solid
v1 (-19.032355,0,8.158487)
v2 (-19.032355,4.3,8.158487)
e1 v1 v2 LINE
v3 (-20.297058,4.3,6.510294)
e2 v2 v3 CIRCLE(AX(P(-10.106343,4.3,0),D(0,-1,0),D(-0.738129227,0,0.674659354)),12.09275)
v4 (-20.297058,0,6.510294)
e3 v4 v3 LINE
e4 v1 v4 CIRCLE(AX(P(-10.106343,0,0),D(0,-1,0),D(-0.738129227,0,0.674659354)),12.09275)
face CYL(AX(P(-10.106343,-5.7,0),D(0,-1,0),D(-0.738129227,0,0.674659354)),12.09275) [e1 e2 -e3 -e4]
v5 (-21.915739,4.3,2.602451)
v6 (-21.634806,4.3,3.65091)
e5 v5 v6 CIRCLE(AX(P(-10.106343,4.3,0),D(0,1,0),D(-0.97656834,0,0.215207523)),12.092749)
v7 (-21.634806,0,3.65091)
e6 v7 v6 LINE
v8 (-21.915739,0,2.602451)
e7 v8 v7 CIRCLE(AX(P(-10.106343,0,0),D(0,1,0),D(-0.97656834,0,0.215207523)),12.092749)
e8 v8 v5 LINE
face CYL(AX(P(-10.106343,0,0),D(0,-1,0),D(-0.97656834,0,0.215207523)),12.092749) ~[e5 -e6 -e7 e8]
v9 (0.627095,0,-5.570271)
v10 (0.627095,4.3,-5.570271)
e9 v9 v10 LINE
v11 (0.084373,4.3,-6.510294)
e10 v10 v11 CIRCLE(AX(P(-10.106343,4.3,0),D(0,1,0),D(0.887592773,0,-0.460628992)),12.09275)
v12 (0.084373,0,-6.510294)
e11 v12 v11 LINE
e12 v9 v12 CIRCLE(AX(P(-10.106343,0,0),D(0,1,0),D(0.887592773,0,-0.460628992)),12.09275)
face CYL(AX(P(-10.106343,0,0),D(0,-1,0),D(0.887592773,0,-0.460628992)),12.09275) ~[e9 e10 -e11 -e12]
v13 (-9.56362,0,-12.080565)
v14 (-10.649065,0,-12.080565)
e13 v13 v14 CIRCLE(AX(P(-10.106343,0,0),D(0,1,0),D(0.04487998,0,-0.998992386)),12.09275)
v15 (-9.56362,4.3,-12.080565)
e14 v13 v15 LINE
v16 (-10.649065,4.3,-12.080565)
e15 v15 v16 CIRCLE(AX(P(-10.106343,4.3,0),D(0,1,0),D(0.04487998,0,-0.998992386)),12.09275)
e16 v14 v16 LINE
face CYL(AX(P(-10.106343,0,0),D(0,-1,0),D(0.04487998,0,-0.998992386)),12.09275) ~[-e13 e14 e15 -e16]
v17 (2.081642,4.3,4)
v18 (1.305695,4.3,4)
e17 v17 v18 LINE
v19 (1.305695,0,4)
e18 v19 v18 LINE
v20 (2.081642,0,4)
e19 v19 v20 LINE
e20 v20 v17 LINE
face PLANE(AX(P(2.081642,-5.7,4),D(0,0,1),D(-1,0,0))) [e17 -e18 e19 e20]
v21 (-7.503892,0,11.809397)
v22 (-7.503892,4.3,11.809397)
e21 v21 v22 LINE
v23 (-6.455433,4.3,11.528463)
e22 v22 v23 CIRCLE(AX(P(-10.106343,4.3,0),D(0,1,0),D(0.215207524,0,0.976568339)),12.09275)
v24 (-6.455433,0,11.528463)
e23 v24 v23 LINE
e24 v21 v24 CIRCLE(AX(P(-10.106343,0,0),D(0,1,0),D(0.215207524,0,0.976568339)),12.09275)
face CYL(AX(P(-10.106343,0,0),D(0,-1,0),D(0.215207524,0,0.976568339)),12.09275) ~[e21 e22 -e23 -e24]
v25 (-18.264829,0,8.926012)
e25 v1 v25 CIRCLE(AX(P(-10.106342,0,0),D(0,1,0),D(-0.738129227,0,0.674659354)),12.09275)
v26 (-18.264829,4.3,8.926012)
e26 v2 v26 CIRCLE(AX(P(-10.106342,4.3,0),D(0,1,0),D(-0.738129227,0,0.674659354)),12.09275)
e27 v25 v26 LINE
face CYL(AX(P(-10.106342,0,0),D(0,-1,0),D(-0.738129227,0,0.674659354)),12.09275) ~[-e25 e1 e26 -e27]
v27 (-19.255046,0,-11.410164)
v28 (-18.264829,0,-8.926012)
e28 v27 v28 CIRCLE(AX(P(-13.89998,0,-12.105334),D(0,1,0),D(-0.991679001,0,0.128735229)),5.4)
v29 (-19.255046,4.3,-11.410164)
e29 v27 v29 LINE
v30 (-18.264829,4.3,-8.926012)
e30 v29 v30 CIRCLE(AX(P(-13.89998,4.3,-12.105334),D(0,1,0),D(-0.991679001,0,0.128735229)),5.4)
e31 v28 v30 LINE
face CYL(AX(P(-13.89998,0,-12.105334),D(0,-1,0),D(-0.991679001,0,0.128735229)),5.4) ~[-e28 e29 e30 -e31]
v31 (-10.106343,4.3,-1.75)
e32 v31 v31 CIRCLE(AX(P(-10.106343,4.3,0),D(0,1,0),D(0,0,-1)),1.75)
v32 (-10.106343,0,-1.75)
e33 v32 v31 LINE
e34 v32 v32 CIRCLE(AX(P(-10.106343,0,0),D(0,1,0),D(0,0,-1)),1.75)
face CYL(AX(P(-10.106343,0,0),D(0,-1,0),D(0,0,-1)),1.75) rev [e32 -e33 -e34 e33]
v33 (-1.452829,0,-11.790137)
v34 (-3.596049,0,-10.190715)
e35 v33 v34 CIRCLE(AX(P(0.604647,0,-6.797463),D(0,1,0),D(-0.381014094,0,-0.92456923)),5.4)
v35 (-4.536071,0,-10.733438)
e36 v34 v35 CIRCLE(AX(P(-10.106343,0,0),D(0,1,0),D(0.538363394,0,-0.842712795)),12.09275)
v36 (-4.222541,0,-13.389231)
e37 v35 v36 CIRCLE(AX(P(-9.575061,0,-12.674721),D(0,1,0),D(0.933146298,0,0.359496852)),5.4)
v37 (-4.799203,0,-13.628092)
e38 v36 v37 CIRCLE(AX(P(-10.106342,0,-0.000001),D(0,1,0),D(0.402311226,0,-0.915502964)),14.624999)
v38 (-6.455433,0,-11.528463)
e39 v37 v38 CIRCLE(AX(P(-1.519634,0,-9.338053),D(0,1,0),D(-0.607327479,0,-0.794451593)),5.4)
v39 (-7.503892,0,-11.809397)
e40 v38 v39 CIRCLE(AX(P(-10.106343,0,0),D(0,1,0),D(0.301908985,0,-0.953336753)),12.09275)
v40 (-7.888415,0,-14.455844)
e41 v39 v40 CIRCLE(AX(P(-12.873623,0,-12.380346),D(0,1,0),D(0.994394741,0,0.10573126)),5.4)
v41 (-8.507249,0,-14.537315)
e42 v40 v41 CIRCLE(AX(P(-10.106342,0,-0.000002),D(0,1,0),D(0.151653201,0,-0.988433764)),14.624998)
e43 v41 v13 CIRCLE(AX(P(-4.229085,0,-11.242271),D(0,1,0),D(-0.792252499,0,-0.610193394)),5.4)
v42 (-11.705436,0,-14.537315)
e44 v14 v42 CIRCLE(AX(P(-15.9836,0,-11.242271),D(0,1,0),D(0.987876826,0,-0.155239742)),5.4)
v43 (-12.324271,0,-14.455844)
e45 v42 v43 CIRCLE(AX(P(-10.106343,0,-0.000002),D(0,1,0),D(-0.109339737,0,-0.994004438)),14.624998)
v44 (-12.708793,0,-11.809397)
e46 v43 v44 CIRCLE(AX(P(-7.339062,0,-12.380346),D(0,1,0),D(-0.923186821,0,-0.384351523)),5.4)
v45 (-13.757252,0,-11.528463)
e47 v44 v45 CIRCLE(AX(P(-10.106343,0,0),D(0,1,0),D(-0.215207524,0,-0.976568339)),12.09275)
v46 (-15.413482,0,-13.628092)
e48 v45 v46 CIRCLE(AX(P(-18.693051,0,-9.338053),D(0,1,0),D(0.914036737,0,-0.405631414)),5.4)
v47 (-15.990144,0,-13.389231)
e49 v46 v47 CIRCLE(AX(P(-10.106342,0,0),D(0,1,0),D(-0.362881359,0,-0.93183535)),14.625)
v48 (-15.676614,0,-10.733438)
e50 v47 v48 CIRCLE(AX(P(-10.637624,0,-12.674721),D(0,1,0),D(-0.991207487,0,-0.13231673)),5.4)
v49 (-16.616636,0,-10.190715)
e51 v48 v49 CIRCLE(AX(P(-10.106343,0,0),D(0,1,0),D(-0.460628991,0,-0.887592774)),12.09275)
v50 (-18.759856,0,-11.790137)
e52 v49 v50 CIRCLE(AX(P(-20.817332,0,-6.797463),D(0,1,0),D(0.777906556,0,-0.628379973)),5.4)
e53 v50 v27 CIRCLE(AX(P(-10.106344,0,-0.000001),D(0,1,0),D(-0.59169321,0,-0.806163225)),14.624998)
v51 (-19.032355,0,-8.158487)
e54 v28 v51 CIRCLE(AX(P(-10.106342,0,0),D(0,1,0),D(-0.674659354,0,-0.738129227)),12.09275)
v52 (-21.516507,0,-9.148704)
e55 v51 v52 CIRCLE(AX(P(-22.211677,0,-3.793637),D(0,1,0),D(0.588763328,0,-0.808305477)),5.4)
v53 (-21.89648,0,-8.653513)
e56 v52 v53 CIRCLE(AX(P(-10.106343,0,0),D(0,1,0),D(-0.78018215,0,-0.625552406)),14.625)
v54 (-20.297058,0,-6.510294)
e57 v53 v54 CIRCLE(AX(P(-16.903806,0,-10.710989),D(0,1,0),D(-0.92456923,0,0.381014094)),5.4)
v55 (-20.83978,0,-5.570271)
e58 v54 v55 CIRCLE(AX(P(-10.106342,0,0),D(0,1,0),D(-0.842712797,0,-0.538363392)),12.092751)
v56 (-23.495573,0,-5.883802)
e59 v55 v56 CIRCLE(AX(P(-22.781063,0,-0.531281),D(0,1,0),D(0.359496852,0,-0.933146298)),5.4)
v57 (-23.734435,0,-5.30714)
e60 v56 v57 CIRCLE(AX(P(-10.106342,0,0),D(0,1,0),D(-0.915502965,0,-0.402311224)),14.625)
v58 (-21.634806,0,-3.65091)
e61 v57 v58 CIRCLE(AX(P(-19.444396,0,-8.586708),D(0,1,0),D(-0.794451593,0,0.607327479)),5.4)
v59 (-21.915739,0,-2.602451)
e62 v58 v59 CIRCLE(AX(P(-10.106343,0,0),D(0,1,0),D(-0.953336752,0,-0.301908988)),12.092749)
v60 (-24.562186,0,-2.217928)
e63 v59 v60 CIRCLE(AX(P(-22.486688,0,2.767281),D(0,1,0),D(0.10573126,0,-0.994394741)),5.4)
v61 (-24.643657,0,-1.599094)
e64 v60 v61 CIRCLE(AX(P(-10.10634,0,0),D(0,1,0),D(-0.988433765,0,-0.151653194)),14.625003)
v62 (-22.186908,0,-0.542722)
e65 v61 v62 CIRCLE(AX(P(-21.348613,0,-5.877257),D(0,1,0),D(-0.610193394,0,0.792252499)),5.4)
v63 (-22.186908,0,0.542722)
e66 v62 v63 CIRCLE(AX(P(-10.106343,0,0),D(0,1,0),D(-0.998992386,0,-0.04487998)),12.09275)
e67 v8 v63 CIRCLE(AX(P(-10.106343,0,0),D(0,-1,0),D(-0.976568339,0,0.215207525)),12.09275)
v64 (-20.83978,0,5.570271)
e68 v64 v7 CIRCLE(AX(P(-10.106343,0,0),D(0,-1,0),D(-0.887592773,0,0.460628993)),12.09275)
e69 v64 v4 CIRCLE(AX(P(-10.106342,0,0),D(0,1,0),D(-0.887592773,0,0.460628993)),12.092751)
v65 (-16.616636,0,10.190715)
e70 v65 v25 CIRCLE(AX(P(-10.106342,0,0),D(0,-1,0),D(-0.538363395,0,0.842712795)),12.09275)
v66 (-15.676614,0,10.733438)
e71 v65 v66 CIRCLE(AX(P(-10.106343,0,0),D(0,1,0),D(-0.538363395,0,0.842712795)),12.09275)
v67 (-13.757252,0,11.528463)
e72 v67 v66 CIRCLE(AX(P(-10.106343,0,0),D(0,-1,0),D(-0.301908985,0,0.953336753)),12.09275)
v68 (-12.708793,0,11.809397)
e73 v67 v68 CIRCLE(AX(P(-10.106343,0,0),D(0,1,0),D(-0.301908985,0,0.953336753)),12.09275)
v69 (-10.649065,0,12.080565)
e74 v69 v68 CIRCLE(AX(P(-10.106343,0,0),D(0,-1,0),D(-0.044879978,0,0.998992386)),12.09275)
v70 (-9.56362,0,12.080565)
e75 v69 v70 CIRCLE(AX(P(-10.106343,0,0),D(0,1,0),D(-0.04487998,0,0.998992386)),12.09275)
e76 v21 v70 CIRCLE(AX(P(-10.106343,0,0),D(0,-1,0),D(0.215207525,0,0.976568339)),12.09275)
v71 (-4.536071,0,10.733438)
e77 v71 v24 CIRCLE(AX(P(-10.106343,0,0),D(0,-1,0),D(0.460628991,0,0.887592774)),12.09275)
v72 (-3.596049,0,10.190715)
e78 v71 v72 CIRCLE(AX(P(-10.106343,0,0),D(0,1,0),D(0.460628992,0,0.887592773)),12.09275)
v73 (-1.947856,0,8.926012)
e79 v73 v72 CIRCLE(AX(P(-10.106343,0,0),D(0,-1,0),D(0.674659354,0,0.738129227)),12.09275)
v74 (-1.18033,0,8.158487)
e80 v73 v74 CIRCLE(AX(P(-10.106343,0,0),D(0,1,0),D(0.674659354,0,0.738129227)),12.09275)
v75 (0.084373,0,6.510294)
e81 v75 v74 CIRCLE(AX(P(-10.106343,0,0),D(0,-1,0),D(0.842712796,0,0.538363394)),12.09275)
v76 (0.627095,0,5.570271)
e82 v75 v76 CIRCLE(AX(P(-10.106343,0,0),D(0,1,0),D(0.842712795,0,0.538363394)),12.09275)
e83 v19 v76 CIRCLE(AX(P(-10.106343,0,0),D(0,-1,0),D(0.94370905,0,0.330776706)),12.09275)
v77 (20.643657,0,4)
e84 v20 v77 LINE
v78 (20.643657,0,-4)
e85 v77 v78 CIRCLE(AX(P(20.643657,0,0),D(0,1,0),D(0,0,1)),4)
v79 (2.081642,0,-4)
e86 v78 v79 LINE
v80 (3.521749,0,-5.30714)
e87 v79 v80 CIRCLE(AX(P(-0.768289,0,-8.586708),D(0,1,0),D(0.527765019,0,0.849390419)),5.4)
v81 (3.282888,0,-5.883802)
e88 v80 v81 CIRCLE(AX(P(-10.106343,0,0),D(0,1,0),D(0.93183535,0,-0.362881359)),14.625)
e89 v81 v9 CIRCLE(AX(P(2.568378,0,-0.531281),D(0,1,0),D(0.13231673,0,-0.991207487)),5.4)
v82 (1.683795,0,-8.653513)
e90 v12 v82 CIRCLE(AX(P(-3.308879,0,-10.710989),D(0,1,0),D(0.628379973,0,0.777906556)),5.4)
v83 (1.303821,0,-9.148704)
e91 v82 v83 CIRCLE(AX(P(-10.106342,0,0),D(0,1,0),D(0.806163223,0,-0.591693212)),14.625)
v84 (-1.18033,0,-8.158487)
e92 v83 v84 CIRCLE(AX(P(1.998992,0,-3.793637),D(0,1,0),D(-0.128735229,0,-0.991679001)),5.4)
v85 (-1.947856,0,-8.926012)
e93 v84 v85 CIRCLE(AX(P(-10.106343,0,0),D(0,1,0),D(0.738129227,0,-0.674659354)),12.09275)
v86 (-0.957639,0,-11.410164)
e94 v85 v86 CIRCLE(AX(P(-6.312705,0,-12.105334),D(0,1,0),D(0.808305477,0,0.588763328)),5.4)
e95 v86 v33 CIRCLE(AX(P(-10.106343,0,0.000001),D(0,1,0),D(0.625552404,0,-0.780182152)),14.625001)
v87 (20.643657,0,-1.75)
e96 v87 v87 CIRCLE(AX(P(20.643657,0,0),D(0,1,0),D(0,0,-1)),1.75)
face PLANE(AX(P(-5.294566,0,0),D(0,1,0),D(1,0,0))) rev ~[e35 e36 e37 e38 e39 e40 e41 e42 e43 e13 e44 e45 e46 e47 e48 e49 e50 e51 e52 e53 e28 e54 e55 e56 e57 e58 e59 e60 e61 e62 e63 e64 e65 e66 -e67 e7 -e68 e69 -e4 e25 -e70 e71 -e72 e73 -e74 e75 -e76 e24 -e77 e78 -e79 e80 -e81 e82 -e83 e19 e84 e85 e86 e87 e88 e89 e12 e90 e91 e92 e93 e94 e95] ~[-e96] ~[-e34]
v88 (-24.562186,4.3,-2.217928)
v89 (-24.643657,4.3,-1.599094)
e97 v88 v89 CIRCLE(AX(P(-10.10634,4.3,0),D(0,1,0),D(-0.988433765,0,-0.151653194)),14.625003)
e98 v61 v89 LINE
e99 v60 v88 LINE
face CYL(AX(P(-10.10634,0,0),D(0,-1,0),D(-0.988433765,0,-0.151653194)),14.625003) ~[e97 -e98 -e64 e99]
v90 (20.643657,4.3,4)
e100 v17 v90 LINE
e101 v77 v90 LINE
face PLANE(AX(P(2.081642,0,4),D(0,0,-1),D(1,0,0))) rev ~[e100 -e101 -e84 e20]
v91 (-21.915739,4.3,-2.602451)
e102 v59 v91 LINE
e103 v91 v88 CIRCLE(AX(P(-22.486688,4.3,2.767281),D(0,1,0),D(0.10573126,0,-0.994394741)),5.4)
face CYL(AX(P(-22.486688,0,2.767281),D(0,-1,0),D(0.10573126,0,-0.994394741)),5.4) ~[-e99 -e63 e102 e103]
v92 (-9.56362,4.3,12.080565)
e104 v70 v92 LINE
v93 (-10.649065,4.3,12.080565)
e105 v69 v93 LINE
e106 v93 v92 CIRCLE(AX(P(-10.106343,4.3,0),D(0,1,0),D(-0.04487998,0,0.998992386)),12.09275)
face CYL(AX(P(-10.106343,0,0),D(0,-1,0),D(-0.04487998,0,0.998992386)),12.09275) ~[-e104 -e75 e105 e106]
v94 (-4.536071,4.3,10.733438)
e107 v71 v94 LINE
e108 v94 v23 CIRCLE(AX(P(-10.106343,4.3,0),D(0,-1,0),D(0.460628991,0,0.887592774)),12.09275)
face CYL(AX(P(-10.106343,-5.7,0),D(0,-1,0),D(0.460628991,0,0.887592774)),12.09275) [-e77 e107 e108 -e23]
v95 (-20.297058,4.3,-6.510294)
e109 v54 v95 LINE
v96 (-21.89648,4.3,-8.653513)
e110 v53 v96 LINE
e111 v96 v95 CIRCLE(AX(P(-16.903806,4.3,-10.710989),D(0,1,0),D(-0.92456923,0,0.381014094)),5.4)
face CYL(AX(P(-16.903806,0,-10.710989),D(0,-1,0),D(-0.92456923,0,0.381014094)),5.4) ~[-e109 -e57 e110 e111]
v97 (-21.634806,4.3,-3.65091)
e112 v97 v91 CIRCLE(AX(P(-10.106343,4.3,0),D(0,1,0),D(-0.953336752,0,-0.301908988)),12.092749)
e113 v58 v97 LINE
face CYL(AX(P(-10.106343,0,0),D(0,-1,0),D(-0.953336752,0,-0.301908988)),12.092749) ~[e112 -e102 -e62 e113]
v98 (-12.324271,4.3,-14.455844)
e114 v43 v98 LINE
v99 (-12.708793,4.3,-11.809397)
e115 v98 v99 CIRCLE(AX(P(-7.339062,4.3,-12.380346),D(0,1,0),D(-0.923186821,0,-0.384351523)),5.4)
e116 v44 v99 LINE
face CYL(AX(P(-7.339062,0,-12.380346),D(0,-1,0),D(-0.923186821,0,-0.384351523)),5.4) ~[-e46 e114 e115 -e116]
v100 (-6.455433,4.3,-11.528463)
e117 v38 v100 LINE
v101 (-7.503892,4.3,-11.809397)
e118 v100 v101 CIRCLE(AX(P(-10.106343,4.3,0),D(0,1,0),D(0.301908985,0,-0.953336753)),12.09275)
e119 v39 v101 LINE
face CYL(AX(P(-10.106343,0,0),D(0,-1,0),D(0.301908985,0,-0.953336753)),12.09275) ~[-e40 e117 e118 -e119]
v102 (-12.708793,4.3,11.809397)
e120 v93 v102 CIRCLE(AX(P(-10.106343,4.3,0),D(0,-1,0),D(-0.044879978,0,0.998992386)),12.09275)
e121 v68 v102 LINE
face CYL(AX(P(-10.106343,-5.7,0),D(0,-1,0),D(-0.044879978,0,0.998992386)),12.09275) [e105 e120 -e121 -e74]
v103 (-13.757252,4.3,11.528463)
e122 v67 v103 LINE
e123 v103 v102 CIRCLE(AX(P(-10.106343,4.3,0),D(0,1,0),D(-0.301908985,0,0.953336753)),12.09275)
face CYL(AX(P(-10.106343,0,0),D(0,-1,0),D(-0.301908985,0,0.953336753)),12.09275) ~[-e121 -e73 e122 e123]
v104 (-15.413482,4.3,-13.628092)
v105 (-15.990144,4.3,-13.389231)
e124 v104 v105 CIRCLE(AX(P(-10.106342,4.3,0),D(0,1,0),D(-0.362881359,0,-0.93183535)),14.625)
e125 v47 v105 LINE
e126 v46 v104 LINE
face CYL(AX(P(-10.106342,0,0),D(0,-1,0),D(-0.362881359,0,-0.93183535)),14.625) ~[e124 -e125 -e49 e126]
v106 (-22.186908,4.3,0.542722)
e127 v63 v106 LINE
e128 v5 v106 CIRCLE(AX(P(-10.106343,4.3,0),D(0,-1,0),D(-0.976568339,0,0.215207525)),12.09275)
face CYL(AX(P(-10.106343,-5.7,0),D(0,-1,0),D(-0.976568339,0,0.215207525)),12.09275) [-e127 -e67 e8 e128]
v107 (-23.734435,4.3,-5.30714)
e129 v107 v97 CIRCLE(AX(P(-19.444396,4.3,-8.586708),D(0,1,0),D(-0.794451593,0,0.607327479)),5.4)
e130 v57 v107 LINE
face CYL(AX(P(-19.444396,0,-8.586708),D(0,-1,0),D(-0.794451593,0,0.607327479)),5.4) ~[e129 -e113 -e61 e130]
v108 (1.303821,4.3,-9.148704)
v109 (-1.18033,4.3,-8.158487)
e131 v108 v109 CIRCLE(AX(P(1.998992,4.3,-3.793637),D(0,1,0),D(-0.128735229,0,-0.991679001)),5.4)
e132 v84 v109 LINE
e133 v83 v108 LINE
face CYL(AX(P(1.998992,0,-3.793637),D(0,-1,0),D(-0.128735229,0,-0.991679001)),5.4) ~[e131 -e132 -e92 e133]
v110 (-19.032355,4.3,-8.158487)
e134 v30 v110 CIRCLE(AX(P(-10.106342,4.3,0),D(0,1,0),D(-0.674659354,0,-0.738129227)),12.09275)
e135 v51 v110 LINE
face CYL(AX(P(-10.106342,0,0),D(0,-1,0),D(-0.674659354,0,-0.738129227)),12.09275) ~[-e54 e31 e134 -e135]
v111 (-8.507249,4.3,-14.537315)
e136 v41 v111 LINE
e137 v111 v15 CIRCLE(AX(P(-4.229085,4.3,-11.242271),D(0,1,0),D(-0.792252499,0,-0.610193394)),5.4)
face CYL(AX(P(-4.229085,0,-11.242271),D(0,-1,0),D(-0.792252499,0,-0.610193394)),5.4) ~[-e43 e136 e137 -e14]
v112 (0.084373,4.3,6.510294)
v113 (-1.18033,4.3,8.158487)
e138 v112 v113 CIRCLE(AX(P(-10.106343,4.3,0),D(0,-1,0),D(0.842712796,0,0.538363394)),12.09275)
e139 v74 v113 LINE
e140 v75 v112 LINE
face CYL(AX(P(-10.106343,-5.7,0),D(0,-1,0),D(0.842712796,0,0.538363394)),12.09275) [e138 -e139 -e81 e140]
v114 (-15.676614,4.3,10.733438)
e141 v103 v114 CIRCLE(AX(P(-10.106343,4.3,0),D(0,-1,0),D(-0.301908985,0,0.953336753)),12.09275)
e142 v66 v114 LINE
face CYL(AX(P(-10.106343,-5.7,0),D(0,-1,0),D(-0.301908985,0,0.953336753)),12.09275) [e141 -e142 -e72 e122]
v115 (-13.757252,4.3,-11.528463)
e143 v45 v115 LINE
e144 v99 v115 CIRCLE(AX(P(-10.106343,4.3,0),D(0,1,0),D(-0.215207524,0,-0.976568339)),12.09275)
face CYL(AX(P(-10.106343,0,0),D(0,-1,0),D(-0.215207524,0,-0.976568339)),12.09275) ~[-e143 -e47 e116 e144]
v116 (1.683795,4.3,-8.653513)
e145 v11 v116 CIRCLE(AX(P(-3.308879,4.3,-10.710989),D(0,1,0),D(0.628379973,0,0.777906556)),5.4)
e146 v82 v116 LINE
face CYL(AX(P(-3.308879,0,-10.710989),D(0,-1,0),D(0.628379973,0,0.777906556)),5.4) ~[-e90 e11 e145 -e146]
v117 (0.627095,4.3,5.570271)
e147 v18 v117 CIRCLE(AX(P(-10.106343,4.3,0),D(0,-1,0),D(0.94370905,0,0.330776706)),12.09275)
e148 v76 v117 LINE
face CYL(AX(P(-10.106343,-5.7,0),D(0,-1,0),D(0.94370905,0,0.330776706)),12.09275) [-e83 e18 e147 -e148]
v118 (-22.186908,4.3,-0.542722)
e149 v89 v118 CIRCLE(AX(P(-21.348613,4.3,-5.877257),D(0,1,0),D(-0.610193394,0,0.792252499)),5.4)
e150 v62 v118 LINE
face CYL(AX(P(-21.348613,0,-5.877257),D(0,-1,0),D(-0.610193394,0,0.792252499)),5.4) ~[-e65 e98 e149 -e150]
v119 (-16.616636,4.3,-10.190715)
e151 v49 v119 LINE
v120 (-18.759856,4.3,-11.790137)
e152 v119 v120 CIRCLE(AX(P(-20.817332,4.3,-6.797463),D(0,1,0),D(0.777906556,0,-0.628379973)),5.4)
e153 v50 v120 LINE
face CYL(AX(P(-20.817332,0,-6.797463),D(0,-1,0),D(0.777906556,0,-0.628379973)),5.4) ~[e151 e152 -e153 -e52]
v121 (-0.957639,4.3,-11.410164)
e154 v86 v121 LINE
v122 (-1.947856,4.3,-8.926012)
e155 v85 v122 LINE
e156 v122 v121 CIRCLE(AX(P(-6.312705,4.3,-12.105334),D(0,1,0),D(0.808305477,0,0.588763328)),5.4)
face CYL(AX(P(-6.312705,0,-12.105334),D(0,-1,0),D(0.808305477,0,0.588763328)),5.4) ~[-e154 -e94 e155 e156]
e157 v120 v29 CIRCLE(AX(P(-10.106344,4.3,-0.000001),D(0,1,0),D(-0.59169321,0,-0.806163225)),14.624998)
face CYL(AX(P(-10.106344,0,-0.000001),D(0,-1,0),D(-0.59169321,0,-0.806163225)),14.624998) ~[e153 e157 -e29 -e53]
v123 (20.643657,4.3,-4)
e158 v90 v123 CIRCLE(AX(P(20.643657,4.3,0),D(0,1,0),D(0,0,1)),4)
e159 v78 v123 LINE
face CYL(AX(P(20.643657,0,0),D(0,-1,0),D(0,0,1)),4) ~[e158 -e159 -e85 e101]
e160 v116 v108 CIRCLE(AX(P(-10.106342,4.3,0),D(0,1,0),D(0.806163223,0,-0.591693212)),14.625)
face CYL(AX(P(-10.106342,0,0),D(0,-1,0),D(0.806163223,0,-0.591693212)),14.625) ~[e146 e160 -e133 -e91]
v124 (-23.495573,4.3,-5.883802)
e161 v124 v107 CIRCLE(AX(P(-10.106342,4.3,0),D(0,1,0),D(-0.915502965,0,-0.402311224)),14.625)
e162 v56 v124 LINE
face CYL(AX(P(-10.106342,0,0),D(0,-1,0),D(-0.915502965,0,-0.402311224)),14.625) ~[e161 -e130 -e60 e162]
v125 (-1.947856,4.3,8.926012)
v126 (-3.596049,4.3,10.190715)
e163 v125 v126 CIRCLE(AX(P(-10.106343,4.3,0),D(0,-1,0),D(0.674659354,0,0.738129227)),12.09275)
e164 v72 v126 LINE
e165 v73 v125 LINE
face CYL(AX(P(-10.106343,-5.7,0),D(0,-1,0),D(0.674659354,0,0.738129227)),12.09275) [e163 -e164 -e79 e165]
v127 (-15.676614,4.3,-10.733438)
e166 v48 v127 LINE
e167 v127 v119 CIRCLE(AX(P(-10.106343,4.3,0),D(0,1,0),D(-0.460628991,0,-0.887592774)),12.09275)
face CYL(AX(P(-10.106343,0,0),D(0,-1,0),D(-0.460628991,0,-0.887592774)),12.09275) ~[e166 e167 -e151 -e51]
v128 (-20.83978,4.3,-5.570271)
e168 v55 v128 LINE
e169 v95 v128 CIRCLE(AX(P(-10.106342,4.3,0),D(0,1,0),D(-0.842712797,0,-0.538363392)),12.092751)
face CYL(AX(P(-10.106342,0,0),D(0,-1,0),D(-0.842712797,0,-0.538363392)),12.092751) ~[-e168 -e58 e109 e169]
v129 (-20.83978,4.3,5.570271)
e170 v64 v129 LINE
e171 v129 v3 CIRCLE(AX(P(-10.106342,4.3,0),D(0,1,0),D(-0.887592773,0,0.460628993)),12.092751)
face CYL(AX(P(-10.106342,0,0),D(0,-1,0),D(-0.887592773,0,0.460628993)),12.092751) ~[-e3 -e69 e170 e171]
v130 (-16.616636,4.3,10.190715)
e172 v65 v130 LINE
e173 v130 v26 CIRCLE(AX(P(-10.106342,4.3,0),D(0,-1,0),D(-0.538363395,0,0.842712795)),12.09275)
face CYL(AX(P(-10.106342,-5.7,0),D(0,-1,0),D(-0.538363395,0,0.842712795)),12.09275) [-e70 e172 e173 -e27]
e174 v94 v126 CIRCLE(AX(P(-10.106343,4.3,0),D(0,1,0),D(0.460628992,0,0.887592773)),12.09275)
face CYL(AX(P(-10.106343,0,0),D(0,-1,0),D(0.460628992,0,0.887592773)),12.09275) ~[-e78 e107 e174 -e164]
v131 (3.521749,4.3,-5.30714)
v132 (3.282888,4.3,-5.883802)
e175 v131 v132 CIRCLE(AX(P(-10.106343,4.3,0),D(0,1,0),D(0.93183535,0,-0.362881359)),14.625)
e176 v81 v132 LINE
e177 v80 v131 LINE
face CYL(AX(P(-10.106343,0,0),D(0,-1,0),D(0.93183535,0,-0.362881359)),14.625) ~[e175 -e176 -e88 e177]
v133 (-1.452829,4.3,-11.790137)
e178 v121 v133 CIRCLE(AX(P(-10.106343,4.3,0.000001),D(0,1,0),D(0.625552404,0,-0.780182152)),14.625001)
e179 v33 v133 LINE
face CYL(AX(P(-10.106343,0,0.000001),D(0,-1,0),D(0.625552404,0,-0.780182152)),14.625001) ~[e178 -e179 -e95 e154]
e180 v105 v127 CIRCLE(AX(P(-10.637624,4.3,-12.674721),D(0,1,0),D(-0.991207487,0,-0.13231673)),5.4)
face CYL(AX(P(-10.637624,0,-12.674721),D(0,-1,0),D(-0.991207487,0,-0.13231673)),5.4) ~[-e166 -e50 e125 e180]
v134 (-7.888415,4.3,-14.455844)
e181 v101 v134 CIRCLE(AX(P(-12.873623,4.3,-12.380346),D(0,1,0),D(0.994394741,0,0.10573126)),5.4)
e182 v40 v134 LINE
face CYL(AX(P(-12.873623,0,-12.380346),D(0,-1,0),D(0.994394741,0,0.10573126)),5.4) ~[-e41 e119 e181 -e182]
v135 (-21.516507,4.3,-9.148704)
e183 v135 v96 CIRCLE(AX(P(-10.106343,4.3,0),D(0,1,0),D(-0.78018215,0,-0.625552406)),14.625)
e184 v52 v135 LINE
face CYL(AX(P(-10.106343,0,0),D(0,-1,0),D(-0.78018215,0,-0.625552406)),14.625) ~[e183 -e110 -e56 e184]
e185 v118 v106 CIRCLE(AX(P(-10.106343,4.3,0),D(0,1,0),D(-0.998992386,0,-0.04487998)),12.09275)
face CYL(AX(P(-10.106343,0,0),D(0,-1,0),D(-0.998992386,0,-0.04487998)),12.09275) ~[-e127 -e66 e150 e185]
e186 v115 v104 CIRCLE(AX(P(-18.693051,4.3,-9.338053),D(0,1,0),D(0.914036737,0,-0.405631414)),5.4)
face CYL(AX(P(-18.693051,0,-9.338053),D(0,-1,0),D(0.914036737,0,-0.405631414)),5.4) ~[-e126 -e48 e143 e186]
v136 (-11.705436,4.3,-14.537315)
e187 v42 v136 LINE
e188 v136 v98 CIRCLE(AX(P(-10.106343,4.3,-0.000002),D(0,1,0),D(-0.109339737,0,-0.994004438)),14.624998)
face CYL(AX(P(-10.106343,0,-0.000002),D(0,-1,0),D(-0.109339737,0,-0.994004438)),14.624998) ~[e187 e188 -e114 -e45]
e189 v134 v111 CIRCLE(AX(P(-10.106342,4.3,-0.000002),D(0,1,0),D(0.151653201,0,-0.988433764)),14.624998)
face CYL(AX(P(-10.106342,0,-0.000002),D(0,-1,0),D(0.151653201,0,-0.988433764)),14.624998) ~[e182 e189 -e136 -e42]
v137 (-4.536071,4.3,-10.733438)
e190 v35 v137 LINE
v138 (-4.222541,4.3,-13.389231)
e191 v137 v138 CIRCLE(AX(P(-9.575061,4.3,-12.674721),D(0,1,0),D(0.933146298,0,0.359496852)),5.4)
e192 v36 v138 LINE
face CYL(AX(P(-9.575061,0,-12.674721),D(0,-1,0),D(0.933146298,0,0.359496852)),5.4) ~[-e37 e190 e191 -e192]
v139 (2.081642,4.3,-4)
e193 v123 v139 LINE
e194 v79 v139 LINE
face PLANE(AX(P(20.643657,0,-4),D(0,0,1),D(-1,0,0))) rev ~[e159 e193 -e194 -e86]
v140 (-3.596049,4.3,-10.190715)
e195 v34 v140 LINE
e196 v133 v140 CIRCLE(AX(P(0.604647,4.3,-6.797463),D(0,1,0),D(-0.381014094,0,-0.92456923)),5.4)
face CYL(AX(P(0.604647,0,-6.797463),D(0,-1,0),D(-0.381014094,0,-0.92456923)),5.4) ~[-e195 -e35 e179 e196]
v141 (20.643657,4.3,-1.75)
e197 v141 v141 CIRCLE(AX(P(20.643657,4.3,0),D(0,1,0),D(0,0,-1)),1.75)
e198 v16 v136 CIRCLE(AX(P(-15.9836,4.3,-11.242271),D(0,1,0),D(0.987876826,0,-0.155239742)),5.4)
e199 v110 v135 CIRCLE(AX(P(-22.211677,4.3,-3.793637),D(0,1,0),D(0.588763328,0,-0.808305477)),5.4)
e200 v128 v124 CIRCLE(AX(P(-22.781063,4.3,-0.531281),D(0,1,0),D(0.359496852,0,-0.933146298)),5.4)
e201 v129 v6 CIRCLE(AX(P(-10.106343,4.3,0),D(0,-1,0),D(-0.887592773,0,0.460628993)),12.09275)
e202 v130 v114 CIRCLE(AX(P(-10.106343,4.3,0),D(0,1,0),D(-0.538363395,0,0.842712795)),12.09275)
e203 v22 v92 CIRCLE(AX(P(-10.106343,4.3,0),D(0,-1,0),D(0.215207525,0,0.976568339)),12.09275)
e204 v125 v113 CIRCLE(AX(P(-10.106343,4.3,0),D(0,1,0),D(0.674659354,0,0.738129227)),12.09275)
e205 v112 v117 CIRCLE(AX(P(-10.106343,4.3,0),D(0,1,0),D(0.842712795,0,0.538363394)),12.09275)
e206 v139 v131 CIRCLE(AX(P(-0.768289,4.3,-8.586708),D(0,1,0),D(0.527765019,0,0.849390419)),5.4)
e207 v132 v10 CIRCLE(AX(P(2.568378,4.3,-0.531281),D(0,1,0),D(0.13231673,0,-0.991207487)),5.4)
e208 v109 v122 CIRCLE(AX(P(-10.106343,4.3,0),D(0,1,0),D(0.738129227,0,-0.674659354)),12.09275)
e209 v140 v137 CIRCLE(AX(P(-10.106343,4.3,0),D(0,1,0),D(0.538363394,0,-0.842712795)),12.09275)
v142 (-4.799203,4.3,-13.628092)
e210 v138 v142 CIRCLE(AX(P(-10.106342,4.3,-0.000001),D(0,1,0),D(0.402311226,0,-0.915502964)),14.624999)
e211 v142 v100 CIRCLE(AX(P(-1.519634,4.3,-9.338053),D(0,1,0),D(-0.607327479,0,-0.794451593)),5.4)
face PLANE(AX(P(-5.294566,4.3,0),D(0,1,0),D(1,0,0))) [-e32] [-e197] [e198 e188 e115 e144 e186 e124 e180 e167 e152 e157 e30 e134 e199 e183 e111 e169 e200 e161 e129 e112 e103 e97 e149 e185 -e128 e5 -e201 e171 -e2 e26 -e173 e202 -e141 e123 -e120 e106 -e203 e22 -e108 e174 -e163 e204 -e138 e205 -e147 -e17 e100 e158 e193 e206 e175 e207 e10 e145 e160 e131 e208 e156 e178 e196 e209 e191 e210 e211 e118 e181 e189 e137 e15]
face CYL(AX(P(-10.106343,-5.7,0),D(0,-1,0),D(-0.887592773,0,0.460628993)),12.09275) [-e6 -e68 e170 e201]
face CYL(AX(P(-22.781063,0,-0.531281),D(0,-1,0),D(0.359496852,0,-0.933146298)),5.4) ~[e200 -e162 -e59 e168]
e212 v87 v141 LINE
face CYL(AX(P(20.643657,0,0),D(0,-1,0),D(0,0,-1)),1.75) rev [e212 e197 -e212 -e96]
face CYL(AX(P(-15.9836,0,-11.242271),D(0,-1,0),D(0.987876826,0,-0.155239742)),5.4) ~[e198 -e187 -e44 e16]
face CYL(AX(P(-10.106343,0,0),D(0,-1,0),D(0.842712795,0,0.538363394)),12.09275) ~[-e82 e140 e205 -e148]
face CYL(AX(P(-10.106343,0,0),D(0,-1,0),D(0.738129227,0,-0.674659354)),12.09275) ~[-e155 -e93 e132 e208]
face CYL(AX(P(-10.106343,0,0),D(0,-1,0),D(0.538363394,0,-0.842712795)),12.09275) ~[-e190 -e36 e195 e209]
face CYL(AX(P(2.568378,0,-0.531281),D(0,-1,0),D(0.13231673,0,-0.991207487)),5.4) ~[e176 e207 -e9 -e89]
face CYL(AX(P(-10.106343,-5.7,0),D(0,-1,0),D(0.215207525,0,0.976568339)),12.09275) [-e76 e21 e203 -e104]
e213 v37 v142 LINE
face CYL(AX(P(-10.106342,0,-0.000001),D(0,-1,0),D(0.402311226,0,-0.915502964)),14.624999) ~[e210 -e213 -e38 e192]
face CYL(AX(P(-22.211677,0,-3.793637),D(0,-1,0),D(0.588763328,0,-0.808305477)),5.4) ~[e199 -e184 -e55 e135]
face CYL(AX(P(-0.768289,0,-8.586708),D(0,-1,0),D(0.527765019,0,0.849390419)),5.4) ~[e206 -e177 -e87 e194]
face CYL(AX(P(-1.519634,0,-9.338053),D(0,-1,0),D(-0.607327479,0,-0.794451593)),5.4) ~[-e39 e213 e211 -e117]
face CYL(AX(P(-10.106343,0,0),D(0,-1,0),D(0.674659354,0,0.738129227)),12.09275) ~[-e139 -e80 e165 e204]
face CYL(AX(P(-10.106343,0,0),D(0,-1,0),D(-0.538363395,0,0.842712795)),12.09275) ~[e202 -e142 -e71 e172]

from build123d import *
from build123d.topology import SkipClean

# Parameters (mm, degrees)
SKETCH1_R           = 1.75
BOSS_EXTRUDE1_DEPTH = 4.3
CUT_EXTRUDE1_START  = -10
CUT_EXTRUDE1_DEPTH  = 10


with BuildPart() as part:
    # Sketch1 → Boss-Extrude1 (new body)
    with BuildSketch(Plane(origin=(0, 0, 0), x_dir=(1, 0, 0), z_dir=(0, 1, 0))):
        with BuildLine():
            Line((20.643657446, 4), (2.081641936, 4))
            ThreePointArc((2.081641936, 4), (2.861028333, 4.588201733), (3.521749436, 5.30713988))
            ThreePointArc((3.521749436, 5.30713988), (3.405395609, 5.596745198), (3.282888305, 5.883801663))
            ThreePointArc((3.282888305, 5.883801663), (1.93527598, 5.894040025), (0.627094961, 5.57027124))
            ThreePointArc((0.627094961, 5.57027124), (0.366286148, 6.046375), (0.084372603, 6.510293938))
            ThreePointArc((0.084372603, 6.510293938), (1.018855105, 7.48132754), (1.683794586, 8.65351323))
            ThreePointArc((1.683794586, 8.65351323), (1.496450048, 8.903135899), (1.303821399, 9.148703928))
            ThreePointArc((1.303821399, 9.148703928), (-0.000522033, 8.809805691), (-1.180330337, 8.158486898))
            ThreePointArc((-1.180330337, 8.158486898), (-1.555477026, 8.550865528), (-1.947855656, 8.926012217))
            ThreePointArc((-1.947855656, 8.926012217), (-1.296536862, 10.105820521), (-0.957638625, 11.410163953))
            ThreePointArc((-0.957638625, 11.410163953), (-1.203206655, 11.602792602), (-1.452829324, 11.79013714))
            ThreePointArc((-1.452829324, 11.79013714), (-2.625015014, 11.125197659), (-3.596048616, 10.190715157))
            ThreePointArc((-3.596048616, 10.190715157), (-4.059967554, 10.472628702), (-4.536071314, 10.733437515))
            ThreePointArc((-4.536071314, 10.733437515), (-4.212302529, 12.041618533), (-4.222540891, 13.389230859))
            ThreePointArc((-4.222540891, 13.389230859), (-4.509597355, 13.511738163), (-4.799202674, 13.62809199))
            ThreePointArc((-4.799202674, 13.62809199), (-5.759348103, 12.682425791), (-6.455432668, 11.528463019))
            ThreePointArc((-6.455432668, 11.528463019), (-6.976508546, 11.680699536), (-7.503891752, 11.809396783))
            ThreePointArc((-7.503891752, 11.809396783), (-7.529737283, 13.156800143), (-7.888414517, 14.455843809))
            ThreePointArc((-7.888414517, 14.455843809), (-8.197396993, 14.499881098), (-8.507248835, 14.537314892))
            ThreePointArc((-8.507248835, 14.537314892), (-9.18992168, 13.375367565), (-9.563620196, 12.080565177))
            ThreePointArc((-9.563620196, 12.080565177), (-10.106342554, 12.09275), (-10.649064912, 12.080565177))
            ThreePointArc((-10.649064912, 12.080565177), (-11.022763428, 13.375367565), (-11.705436272, 14.537314892))
            ThreePointArc((-11.705436272, 14.537314892), (-12.015288115, 14.499881098), (-12.324270591, 14.455843809))
            ThreePointArc((-12.324270591, 14.455843809), (-12.682947825, 13.156800143), (-12.708793355, 11.809396783))
            ThreePointArc((-12.708793355, 11.809396783), (-13.236176561, 11.680699536), (-13.757252439, 11.528463019))
            ThreePointArc((-13.757252439, 11.528463019), (-14.453337005, 12.682425791), (-15.413482434, 13.62809199))
            ThreePointArc((-15.413482434, 13.62809199), (-15.703087752, 13.511738163), (-15.990144217, 13.389230859))
            ThreePointArc((-15.990144217, 13.389230859), (-16.000382579, 12.041618533), (-15.676613793, 10.733437515))
            ThreePointArc((-15.676613793, 10.733437515), (-16.152717554, 10.472628702), (-16.616636492, 10.190715157))
            ThreePointArc((-16.616636492, 10.190715157), (-17.587670094, 11.125197659), (-18.759855783, 11.79013714))
            ThreePointArc((-18.759855783, 11.79013714), (-19.009478453, 11.602792602), (-19.255046482, 11.410163953))
            ThreePointArc((-19.255046482, 11.410163953), (-18.916148245, 10.105820521), (-18.264829452, 8.926012217))
            ThreePointArc((-18.264829452, 8.926012217), (-18.657208082, 8.550865528), (-19.032354771, 8.158486898))
            ThreePointArc((-19.032354771, 8.158486898), (-20.212163074, 8.809805691), (-21.516506507, 9.148703928))
            ThreePointArc((-21.516506507, 9.148703928), (-21.709135156, 8.903135899), (-21.896479694, 8.65351323))
            ThreePointArc((-21.896479694, 8.65351323), (-21.231540213, 7.48132754), (-20.297057711, 6.510293938))
            ThreePointArc((-20.297057711, 6.510293938), (-20.578971255, 6.046375), (-20.839780068, 5.57027124))
            ThreePointArc((-20.839780068, 5.57027124), (-22.147961087, 5.894040025), (-23.495573413, 5.883801663))
            ThreePointArc((-23.495573413, 5.883801663), (-23.618080717, 5.596745198), (-23.734434544, 5.30713988))
            ThreePointArc((-23.734434544, 5.30713988), (-22.788768345, 4.346994451), (-21.634805572, 3.650909885))
            ThreePointArc((-21.634805572, 3.650909885), (-21.78704209, 3.129834008), (-21.915739337, 2.602450802))
            ThreePointArc((-21.915739337, 2.602450802), (-23.263142697, 2.576605271), (-24.562186363, 2.217928037))
            ThreePointArc((-24.562186363, 2.217928037), (-24.606223651, 1.908945561), (-24.643657446, 1.599093719))
            ThreePointArc((-24.643657446, 1.599093719), (-23.481710119, 0.916420874), (-22.186907731, 0.542722358))
            ThreePointArc((-22.186907731, 0.542722358), (-22.199092554, 0), (-22.186907731, -0.542722358))
            ThreePointArc((-22.186907731, -0.542722358), (-23.481710119, -0.916420874), (-24.643657446, -1.599093719))
            ThreePointArc((-24.643657446, -1.599093719), (-24.606223651, -1.908945561), (-24.562186363, -2.217928037))
            ThreePointArc((-24.562186363, -2.217928037), (-23.263142697, -2.576605271), (-21.915739337, -2.602450802))
            ThreePointArc((-21.915739337, -2.602450802), (-21.78704209, -3.129834008), (-21.634805572, -3.650909885))
            ThreePointArc((-21.634805572, -3.650909885), (-22.788768345, -4.346994451), (-23.734434544, -5.30713988))
            ThreePointArc((-23.734434544, -5.30713988), (-23.618080717, -5.596745198), (-23.495573413, -5.883801663))
            ThreePointArc((-23.495573413, -5.883801663), (-22.147961087, -5.894040025), (-20.839780068, -5.57027124))
            ThreePointArc((-20.839780068, -5.57027124), (-20.578971255, -6.046375), (-20.297057711, -6.510293938))
            ThreePointArc((-20.297057711, -6.510293938), (-21.231540213, -7.48132754), (-21.896479694, -8.65351323))
            ThreePointArc((-21.896479694, -8.65351323), (-21.709135156, -8.903135899), (-21.516506507, -9.148703928))
            ThreePointArc((-21.516506507, -9.148703928), (-20.212163074, -8.809805691), (-19.032354771, -8.158486898))
            ThreePointArc((-19.032354771, -8.158486898), (-18.657208082, -8.550865528), (-18.264829452, -8.926012217))
            ThreePointArc((-18.264829452, -8.926012217), (-18.916148245, -10.105820521), (-19.255046482, -11.410163953))
            ThreePointArc((-19.255046482, -11.410163953), (-19.009478453, -11.602792602), (-18.759855783, -11.79013714))
            ThreePointArc((-18.759855783, -11.79013714), (-17.587670094, -11.125197659), (-16.616636492, -10.190715157))
            ThreePointArc((-16.616636492, -10.190715157), (-16.152717554, -10.472628702), (-15.676613793, -10.733437515))
            ThreePointArc((-15.676613793, -10.733437515), (-16.000382579, -12.041618533), (-15.990144217, -13.389230859))
            ThreePointArc((-15.990144217, -13.389230859), (-15.703087752, -13.511738163), (-15.413482434, -13.62809199))
            ThreePointArc((-15.413482434, -13.62809199), (-14.453337005, -12.682425791), (-13.757252439, -11.528463019))
            ThreePointArc((-13.757252439, -11.528463019), (-13.236176561, -11.680699536), (-12.708793355, -11.809396783))
            ThreePointArc((-12.708793355, -11.809396783), (-12.682947825, -13.156800143), (-12.324270591, -14.455843809))
            ThreePointArc((-12.324270591, -14.455843809), (-12.015288115, -14.499881098), (-11.705436272, -14.537314892))
            ThreePointArc((-11.705436272, -14.537314892), (-11.022763428, -13.375367565), (-10.649064912, -12.080565177))
            ThreePointArc((-10.649064912, -12.080565177), (-10.106342554, -12.09275), (-9.563620196, -12.080565177))
            ThreePointArc((-9.563620196, -12.080565177), (-9.18992168, -13.375367565), (-8.507248835, -14.537314892))
            ThreePointArc((-8.507248835, -14.537314892), (-8.197396993, -14.499881098), (-7.888414517, -14.455843809))
            ThreePointArc((-7.888414517, -14.455843809), (-7.529737283, -13.156800143), (-7.503891752, -11.809396783))
            ThreePointArc((-7.503891752, -11.809396783), (-6.976508546, -11.680699536), (-6.455432668, -11.528463019))
            ThreePointArc((-6.455432668, -11.528463019), (-5.759348103, -12.682425791), (-4.799202674, -13.62809199))
            ThreePointArc((-4.799202674, -13.62809199), (-4.509597355, -13.511738163), (-4.222540891, -13.389230859))
            ThreePointArc((-4.222540891, -13.389230859), (-4.212302529, -12.041618533), (-4.536071314, -10.733437515))
            ThreePointArc((-4.536071314, -10.733437515), (-4.059967554, -10.472628702), (-3.596048616, -10.190715157))
            ThreePointArc((-3.596048616, -10.190715157), (-2.625015014, -11.125197659), (-1.452829324, -11.79013714))
            ThreePointArc((-1.452829324, -11.79013714), (-1.203206655, -11.602792602), (-0.957638625, -11.410163953))
            ThreePointArc((-0.957638625, -11.410163953), (-1.296536862, -10.105820521), (-1.947855656, -8.926012217))
            ThreePointArc((-1.947855656, -8.926012217), (-1.555477026, -8.550865528), (-1.180330337, -8.158486898))
            ThreePointArc((-1.180330337, -8.158486898), (-0.000522033, -8.809805691), (1.303821399, -9.148703928))
            ThreePointArc((1.303821399, -9.148703928), (1.496450048, -8.903135899), (1.683794586, -8.65351323))
            ThreePointArc((1.683794586, -8.65351323), (1.018855105, -7.48132754), (0.084372603, -6.510293938))
            ThreePointArc((0.084372603, -6.510293938), (0.366286148, -6.046375), (0.627094961, -5.57027124))
            ThreePointArc((0.627094961, -5.57027124), (1.93527598, -5.894040025), (3.282888305, -5.883801663))
            ThreePointArc((3.282888305, -5.883801663), (3.405395609, -5.596745198), (3.521749436, -5.30713988))
            ThreePointArc((3.521749436, -5.30713988), (2.861028333, -4.588201733), (2.081641936, -4))
            Line((2.081641936, -4), (20.643657446, -4))
            ThreePointArc((20.643657446, -4), (24.643657446, 0), (20.643657446, 4))
        make_face()
        with Locations(Location((-10.106342554, 0, 0), (0, 0, 90))):
            Circle(SKETCH1_R, mode=Mode.SUBTRACT)
        with Locations(Location((20.643657446, 0, 0), (0, 0, 90))):
            Circle(SKETCH1_R, mode=Mode.SUBTRACT)
    extrude(amount=BOSS_EXTRUDE1_DEPTH)

    # Sketch2 → Cut-Extrude1 (cut)
    with SkipClean():  # the faces are left unmerged after this step: merging them gives an invalid solid
        with BuildSketch(Plane(origin=(0, 4.3, 0), x_dir=(1, 0, 0), z_dir=(0, 1, 0)).offset(CUT_EXTRUDE1_START)):
            with BuildLine():
                ThreePointArc((-24.562186363, -2.217928037), (-23.263142697, -2.576605271), (-21.915739337, -2.602450802))
                ThreePointArc((-21.915739337, -2.602450802), (-22.095637401, -1.578420611), (-22.186907731, -0.542722358))
                ThreePointArc((-22.186907731, -0.542722358), (-23.481710119, -0.916420874), (-24.643657446, -1.599093719))
                ThreePointArc((-24.643657446, -1.599093719), (-24.606223651, -1.908945561), (-24.562186363, -2.217928037))
            make_face()
            with BuildLine():
                ThreePointArc((-23.495573413, -5.883801663), (-22.147961087, -5.894040025), (-20.839780068, -5.57027124))
                ThreePointArc((-20.839780068, -5.57027124), (-21.278586771, -4.627695077), (-21.634805572, -3.650909885))
                ThreePointArc((-21.634805572, -3.650909885), (-22.788768345, -4.346994451), (-23.734434544, -5.30713988))
                ThreePointArc((-23.734434544, -5.30713988), (-23.618080717, -5.596745198), (-23.495573413, -5.883801663))
            make_face()
            with BuildLine():
                ThreePointArc((-21.516506507, -9.148703928), (-20.212163074, -8.809805691), (-19.032354771, -8.158486898))
                ThreePointArc((-19.032354771, -8.158486898), (-19.70016616, -7.361599771), (-20.297057711, -6.510293938))
                ThreePointArc((-20.297057711, -6.510293938), (-21.231540213, -7.48132754), (-21.896479694, -8.65351323))
                ThreePointArc((-21.896479694, -8.65351323), (-21.709135156, -8.903135899), (-21.516506507, -9.148703928))
            make_face()
            with BuildLine():
                ThreePointArc((-18.759855783, -11.79013714), (-17.587670094, -11.125197659), (-16.616636492, -10.190715157))
                ThreePointArc((-16.616636492, -10.190715157), (-17.467942324, -9.593823606), (-18.264829452, -8.926012217))
                ThreePointArc((-18.264829452, -8.926012217), (-18.916148245, -10.105820521), (-19.255046482, -11.410163953))
                ThreePointArc((-19.255046482, -11.410163953), (-19.009478453, -11.602792602), (-18.759855783, -11.79013714))
            make_face()
            with BuildLine():
                ThreePointArc((-15.413482434, -13.62809199), (-14.453337005, -12.682425791), (-13.757252439, -11.528463019))
                ThreePointArc((-13.757252439, -11.528463019), (-14.734037631, -11.172244217), (-15.676613793, -10.733437515))
                ThreePointArc((-15.676613793, -10.733437515), (-16.000382579, -12.041618533), (-15.990144217, -13.389230859))
                ThreePointArc((-15.990144217, -13.389230859), (-15.703087752, -13.511738163), (-15.413482434, -13.62809199))
            make_face()
            with BuildLine():
                ThreePointArc((-11.705436272, -14.537314892), (-11.022763428, -13.375367565), (-10.649064912, -12.080565177))
                ThreePointArc((-10.649064912, -12.080565177), (-11.684763165, -11.989294847), (-12.708793355, -11.809396783))
                ThreePointArc((-12.708793355, -11.809396783), (-12.682947825, -13.156800143), (-12.324270591, -14.455843809))
                ThreePointArc((-12.324270591, -14.455843809), (-12.015288115, -14.499881098), (-11.705436272, -14.537314892))
            make_face()
            with BuildLine():
                ThreePointArc((-7.888414517, -14.455843809), (-7.529737283, -13.156800143), (-7.503891752, -11.809396783))
                ThreePointArc((-7.503891752, -11.809396783), (-8.527921943, -11.989294847), (-9.563620196, -12.080565177))
                ThreePointArc((-9.563620196, -12.080565177), (-9.18992168, -13.375367565), (-8.507248835, -14.537314892))
                ThreePointArc((-8.507248835, -14.537314892), (-8.197396993, -14.499881098), (-7.888414517, -14.455843809))
            make_face()
            with BuildLine():
                ThreePointArc((-4.222540891, -13.389230859), (-4.212302529, -12.041618533), (-4.536071314, -10.733437515))
                ThreePointArc((-4.536071314, -10.733437515), (-5.478647477, -11.172244217), (-6.455432668, -11.528463019))
                ThreePointArc((-6.455432668, -11.528463019), (-5.759348103, -12.682425791), (-4.799202674, -13.62809199))
                ThreePointArc((-4.799202674, -13.62809199), (-4.509597355, -13.511738163), (-4.222540891, -13.389230859))
            make_face()
            with BuildLine():
                ThreePointArc((-0.957638625, -11.410163953), (-1.296536862, -10.105820521), (-1.947855656, -8.926012217))
                ThreePointArc((-1.947855656, -8.926012217), (-2.744742783, -9.593823606), (-3.596048616, -10.190715157))
                ThreePointArc((-3.596048616, -10.190715157), (-2.625015014, -11.125197659), (-1.452829324, -11.79013714))
                ThreePointArc((-1.452829324, -11.79013714), (-1.203206655, -11.602792602), (-0.957638625, -11.410163953))
            make_face()
            with BuildLine():
                ThreePointArc((1.683794586, -8.65351323), (1.018855105, -7.48132754), (0.084372603, -6.510293938))
                ThreePointArc((0.084372603, -6.510293938), (-0.512518948, -7.361599771), (-1.180330337, -8.158486898))
                ThreePointArc((-1.180330337, -8.158486898), (-0.000522033, -8.809805691), (1.303821399, -9.148703928))
                ThreePointArc((1.303821399, -9.148703928), (1.496450048, -8.903135899), (1.683794586, -8.65351323))
            make_face()
            with BuildLine():
                ThreePointArc((3.521749436, -5.30713988), (2.861028333, -4.588201733), (2.081641936, -4))
                Line((2.081641936, -4), (1.305695063, -4))
                ThreePointArc((1.305695063, -4), (0.994195953, -4.797149927), (0.627094961, -5.57027124))
                ThreePointArc((0.627094961, -5.57027124), (1.93527598, -5.894040025), (3.282888305, -5.883801663))
                ThreePointArc((3.282888305, -5.883801663), (3.405395609, -5.596745198), (3.521749436, -5.30713988))
            make_face()
        extrude(amount=CUT_EXTRUDE1_DEPTH, mode=Mode.SUBTRACT)


solid = part.part
